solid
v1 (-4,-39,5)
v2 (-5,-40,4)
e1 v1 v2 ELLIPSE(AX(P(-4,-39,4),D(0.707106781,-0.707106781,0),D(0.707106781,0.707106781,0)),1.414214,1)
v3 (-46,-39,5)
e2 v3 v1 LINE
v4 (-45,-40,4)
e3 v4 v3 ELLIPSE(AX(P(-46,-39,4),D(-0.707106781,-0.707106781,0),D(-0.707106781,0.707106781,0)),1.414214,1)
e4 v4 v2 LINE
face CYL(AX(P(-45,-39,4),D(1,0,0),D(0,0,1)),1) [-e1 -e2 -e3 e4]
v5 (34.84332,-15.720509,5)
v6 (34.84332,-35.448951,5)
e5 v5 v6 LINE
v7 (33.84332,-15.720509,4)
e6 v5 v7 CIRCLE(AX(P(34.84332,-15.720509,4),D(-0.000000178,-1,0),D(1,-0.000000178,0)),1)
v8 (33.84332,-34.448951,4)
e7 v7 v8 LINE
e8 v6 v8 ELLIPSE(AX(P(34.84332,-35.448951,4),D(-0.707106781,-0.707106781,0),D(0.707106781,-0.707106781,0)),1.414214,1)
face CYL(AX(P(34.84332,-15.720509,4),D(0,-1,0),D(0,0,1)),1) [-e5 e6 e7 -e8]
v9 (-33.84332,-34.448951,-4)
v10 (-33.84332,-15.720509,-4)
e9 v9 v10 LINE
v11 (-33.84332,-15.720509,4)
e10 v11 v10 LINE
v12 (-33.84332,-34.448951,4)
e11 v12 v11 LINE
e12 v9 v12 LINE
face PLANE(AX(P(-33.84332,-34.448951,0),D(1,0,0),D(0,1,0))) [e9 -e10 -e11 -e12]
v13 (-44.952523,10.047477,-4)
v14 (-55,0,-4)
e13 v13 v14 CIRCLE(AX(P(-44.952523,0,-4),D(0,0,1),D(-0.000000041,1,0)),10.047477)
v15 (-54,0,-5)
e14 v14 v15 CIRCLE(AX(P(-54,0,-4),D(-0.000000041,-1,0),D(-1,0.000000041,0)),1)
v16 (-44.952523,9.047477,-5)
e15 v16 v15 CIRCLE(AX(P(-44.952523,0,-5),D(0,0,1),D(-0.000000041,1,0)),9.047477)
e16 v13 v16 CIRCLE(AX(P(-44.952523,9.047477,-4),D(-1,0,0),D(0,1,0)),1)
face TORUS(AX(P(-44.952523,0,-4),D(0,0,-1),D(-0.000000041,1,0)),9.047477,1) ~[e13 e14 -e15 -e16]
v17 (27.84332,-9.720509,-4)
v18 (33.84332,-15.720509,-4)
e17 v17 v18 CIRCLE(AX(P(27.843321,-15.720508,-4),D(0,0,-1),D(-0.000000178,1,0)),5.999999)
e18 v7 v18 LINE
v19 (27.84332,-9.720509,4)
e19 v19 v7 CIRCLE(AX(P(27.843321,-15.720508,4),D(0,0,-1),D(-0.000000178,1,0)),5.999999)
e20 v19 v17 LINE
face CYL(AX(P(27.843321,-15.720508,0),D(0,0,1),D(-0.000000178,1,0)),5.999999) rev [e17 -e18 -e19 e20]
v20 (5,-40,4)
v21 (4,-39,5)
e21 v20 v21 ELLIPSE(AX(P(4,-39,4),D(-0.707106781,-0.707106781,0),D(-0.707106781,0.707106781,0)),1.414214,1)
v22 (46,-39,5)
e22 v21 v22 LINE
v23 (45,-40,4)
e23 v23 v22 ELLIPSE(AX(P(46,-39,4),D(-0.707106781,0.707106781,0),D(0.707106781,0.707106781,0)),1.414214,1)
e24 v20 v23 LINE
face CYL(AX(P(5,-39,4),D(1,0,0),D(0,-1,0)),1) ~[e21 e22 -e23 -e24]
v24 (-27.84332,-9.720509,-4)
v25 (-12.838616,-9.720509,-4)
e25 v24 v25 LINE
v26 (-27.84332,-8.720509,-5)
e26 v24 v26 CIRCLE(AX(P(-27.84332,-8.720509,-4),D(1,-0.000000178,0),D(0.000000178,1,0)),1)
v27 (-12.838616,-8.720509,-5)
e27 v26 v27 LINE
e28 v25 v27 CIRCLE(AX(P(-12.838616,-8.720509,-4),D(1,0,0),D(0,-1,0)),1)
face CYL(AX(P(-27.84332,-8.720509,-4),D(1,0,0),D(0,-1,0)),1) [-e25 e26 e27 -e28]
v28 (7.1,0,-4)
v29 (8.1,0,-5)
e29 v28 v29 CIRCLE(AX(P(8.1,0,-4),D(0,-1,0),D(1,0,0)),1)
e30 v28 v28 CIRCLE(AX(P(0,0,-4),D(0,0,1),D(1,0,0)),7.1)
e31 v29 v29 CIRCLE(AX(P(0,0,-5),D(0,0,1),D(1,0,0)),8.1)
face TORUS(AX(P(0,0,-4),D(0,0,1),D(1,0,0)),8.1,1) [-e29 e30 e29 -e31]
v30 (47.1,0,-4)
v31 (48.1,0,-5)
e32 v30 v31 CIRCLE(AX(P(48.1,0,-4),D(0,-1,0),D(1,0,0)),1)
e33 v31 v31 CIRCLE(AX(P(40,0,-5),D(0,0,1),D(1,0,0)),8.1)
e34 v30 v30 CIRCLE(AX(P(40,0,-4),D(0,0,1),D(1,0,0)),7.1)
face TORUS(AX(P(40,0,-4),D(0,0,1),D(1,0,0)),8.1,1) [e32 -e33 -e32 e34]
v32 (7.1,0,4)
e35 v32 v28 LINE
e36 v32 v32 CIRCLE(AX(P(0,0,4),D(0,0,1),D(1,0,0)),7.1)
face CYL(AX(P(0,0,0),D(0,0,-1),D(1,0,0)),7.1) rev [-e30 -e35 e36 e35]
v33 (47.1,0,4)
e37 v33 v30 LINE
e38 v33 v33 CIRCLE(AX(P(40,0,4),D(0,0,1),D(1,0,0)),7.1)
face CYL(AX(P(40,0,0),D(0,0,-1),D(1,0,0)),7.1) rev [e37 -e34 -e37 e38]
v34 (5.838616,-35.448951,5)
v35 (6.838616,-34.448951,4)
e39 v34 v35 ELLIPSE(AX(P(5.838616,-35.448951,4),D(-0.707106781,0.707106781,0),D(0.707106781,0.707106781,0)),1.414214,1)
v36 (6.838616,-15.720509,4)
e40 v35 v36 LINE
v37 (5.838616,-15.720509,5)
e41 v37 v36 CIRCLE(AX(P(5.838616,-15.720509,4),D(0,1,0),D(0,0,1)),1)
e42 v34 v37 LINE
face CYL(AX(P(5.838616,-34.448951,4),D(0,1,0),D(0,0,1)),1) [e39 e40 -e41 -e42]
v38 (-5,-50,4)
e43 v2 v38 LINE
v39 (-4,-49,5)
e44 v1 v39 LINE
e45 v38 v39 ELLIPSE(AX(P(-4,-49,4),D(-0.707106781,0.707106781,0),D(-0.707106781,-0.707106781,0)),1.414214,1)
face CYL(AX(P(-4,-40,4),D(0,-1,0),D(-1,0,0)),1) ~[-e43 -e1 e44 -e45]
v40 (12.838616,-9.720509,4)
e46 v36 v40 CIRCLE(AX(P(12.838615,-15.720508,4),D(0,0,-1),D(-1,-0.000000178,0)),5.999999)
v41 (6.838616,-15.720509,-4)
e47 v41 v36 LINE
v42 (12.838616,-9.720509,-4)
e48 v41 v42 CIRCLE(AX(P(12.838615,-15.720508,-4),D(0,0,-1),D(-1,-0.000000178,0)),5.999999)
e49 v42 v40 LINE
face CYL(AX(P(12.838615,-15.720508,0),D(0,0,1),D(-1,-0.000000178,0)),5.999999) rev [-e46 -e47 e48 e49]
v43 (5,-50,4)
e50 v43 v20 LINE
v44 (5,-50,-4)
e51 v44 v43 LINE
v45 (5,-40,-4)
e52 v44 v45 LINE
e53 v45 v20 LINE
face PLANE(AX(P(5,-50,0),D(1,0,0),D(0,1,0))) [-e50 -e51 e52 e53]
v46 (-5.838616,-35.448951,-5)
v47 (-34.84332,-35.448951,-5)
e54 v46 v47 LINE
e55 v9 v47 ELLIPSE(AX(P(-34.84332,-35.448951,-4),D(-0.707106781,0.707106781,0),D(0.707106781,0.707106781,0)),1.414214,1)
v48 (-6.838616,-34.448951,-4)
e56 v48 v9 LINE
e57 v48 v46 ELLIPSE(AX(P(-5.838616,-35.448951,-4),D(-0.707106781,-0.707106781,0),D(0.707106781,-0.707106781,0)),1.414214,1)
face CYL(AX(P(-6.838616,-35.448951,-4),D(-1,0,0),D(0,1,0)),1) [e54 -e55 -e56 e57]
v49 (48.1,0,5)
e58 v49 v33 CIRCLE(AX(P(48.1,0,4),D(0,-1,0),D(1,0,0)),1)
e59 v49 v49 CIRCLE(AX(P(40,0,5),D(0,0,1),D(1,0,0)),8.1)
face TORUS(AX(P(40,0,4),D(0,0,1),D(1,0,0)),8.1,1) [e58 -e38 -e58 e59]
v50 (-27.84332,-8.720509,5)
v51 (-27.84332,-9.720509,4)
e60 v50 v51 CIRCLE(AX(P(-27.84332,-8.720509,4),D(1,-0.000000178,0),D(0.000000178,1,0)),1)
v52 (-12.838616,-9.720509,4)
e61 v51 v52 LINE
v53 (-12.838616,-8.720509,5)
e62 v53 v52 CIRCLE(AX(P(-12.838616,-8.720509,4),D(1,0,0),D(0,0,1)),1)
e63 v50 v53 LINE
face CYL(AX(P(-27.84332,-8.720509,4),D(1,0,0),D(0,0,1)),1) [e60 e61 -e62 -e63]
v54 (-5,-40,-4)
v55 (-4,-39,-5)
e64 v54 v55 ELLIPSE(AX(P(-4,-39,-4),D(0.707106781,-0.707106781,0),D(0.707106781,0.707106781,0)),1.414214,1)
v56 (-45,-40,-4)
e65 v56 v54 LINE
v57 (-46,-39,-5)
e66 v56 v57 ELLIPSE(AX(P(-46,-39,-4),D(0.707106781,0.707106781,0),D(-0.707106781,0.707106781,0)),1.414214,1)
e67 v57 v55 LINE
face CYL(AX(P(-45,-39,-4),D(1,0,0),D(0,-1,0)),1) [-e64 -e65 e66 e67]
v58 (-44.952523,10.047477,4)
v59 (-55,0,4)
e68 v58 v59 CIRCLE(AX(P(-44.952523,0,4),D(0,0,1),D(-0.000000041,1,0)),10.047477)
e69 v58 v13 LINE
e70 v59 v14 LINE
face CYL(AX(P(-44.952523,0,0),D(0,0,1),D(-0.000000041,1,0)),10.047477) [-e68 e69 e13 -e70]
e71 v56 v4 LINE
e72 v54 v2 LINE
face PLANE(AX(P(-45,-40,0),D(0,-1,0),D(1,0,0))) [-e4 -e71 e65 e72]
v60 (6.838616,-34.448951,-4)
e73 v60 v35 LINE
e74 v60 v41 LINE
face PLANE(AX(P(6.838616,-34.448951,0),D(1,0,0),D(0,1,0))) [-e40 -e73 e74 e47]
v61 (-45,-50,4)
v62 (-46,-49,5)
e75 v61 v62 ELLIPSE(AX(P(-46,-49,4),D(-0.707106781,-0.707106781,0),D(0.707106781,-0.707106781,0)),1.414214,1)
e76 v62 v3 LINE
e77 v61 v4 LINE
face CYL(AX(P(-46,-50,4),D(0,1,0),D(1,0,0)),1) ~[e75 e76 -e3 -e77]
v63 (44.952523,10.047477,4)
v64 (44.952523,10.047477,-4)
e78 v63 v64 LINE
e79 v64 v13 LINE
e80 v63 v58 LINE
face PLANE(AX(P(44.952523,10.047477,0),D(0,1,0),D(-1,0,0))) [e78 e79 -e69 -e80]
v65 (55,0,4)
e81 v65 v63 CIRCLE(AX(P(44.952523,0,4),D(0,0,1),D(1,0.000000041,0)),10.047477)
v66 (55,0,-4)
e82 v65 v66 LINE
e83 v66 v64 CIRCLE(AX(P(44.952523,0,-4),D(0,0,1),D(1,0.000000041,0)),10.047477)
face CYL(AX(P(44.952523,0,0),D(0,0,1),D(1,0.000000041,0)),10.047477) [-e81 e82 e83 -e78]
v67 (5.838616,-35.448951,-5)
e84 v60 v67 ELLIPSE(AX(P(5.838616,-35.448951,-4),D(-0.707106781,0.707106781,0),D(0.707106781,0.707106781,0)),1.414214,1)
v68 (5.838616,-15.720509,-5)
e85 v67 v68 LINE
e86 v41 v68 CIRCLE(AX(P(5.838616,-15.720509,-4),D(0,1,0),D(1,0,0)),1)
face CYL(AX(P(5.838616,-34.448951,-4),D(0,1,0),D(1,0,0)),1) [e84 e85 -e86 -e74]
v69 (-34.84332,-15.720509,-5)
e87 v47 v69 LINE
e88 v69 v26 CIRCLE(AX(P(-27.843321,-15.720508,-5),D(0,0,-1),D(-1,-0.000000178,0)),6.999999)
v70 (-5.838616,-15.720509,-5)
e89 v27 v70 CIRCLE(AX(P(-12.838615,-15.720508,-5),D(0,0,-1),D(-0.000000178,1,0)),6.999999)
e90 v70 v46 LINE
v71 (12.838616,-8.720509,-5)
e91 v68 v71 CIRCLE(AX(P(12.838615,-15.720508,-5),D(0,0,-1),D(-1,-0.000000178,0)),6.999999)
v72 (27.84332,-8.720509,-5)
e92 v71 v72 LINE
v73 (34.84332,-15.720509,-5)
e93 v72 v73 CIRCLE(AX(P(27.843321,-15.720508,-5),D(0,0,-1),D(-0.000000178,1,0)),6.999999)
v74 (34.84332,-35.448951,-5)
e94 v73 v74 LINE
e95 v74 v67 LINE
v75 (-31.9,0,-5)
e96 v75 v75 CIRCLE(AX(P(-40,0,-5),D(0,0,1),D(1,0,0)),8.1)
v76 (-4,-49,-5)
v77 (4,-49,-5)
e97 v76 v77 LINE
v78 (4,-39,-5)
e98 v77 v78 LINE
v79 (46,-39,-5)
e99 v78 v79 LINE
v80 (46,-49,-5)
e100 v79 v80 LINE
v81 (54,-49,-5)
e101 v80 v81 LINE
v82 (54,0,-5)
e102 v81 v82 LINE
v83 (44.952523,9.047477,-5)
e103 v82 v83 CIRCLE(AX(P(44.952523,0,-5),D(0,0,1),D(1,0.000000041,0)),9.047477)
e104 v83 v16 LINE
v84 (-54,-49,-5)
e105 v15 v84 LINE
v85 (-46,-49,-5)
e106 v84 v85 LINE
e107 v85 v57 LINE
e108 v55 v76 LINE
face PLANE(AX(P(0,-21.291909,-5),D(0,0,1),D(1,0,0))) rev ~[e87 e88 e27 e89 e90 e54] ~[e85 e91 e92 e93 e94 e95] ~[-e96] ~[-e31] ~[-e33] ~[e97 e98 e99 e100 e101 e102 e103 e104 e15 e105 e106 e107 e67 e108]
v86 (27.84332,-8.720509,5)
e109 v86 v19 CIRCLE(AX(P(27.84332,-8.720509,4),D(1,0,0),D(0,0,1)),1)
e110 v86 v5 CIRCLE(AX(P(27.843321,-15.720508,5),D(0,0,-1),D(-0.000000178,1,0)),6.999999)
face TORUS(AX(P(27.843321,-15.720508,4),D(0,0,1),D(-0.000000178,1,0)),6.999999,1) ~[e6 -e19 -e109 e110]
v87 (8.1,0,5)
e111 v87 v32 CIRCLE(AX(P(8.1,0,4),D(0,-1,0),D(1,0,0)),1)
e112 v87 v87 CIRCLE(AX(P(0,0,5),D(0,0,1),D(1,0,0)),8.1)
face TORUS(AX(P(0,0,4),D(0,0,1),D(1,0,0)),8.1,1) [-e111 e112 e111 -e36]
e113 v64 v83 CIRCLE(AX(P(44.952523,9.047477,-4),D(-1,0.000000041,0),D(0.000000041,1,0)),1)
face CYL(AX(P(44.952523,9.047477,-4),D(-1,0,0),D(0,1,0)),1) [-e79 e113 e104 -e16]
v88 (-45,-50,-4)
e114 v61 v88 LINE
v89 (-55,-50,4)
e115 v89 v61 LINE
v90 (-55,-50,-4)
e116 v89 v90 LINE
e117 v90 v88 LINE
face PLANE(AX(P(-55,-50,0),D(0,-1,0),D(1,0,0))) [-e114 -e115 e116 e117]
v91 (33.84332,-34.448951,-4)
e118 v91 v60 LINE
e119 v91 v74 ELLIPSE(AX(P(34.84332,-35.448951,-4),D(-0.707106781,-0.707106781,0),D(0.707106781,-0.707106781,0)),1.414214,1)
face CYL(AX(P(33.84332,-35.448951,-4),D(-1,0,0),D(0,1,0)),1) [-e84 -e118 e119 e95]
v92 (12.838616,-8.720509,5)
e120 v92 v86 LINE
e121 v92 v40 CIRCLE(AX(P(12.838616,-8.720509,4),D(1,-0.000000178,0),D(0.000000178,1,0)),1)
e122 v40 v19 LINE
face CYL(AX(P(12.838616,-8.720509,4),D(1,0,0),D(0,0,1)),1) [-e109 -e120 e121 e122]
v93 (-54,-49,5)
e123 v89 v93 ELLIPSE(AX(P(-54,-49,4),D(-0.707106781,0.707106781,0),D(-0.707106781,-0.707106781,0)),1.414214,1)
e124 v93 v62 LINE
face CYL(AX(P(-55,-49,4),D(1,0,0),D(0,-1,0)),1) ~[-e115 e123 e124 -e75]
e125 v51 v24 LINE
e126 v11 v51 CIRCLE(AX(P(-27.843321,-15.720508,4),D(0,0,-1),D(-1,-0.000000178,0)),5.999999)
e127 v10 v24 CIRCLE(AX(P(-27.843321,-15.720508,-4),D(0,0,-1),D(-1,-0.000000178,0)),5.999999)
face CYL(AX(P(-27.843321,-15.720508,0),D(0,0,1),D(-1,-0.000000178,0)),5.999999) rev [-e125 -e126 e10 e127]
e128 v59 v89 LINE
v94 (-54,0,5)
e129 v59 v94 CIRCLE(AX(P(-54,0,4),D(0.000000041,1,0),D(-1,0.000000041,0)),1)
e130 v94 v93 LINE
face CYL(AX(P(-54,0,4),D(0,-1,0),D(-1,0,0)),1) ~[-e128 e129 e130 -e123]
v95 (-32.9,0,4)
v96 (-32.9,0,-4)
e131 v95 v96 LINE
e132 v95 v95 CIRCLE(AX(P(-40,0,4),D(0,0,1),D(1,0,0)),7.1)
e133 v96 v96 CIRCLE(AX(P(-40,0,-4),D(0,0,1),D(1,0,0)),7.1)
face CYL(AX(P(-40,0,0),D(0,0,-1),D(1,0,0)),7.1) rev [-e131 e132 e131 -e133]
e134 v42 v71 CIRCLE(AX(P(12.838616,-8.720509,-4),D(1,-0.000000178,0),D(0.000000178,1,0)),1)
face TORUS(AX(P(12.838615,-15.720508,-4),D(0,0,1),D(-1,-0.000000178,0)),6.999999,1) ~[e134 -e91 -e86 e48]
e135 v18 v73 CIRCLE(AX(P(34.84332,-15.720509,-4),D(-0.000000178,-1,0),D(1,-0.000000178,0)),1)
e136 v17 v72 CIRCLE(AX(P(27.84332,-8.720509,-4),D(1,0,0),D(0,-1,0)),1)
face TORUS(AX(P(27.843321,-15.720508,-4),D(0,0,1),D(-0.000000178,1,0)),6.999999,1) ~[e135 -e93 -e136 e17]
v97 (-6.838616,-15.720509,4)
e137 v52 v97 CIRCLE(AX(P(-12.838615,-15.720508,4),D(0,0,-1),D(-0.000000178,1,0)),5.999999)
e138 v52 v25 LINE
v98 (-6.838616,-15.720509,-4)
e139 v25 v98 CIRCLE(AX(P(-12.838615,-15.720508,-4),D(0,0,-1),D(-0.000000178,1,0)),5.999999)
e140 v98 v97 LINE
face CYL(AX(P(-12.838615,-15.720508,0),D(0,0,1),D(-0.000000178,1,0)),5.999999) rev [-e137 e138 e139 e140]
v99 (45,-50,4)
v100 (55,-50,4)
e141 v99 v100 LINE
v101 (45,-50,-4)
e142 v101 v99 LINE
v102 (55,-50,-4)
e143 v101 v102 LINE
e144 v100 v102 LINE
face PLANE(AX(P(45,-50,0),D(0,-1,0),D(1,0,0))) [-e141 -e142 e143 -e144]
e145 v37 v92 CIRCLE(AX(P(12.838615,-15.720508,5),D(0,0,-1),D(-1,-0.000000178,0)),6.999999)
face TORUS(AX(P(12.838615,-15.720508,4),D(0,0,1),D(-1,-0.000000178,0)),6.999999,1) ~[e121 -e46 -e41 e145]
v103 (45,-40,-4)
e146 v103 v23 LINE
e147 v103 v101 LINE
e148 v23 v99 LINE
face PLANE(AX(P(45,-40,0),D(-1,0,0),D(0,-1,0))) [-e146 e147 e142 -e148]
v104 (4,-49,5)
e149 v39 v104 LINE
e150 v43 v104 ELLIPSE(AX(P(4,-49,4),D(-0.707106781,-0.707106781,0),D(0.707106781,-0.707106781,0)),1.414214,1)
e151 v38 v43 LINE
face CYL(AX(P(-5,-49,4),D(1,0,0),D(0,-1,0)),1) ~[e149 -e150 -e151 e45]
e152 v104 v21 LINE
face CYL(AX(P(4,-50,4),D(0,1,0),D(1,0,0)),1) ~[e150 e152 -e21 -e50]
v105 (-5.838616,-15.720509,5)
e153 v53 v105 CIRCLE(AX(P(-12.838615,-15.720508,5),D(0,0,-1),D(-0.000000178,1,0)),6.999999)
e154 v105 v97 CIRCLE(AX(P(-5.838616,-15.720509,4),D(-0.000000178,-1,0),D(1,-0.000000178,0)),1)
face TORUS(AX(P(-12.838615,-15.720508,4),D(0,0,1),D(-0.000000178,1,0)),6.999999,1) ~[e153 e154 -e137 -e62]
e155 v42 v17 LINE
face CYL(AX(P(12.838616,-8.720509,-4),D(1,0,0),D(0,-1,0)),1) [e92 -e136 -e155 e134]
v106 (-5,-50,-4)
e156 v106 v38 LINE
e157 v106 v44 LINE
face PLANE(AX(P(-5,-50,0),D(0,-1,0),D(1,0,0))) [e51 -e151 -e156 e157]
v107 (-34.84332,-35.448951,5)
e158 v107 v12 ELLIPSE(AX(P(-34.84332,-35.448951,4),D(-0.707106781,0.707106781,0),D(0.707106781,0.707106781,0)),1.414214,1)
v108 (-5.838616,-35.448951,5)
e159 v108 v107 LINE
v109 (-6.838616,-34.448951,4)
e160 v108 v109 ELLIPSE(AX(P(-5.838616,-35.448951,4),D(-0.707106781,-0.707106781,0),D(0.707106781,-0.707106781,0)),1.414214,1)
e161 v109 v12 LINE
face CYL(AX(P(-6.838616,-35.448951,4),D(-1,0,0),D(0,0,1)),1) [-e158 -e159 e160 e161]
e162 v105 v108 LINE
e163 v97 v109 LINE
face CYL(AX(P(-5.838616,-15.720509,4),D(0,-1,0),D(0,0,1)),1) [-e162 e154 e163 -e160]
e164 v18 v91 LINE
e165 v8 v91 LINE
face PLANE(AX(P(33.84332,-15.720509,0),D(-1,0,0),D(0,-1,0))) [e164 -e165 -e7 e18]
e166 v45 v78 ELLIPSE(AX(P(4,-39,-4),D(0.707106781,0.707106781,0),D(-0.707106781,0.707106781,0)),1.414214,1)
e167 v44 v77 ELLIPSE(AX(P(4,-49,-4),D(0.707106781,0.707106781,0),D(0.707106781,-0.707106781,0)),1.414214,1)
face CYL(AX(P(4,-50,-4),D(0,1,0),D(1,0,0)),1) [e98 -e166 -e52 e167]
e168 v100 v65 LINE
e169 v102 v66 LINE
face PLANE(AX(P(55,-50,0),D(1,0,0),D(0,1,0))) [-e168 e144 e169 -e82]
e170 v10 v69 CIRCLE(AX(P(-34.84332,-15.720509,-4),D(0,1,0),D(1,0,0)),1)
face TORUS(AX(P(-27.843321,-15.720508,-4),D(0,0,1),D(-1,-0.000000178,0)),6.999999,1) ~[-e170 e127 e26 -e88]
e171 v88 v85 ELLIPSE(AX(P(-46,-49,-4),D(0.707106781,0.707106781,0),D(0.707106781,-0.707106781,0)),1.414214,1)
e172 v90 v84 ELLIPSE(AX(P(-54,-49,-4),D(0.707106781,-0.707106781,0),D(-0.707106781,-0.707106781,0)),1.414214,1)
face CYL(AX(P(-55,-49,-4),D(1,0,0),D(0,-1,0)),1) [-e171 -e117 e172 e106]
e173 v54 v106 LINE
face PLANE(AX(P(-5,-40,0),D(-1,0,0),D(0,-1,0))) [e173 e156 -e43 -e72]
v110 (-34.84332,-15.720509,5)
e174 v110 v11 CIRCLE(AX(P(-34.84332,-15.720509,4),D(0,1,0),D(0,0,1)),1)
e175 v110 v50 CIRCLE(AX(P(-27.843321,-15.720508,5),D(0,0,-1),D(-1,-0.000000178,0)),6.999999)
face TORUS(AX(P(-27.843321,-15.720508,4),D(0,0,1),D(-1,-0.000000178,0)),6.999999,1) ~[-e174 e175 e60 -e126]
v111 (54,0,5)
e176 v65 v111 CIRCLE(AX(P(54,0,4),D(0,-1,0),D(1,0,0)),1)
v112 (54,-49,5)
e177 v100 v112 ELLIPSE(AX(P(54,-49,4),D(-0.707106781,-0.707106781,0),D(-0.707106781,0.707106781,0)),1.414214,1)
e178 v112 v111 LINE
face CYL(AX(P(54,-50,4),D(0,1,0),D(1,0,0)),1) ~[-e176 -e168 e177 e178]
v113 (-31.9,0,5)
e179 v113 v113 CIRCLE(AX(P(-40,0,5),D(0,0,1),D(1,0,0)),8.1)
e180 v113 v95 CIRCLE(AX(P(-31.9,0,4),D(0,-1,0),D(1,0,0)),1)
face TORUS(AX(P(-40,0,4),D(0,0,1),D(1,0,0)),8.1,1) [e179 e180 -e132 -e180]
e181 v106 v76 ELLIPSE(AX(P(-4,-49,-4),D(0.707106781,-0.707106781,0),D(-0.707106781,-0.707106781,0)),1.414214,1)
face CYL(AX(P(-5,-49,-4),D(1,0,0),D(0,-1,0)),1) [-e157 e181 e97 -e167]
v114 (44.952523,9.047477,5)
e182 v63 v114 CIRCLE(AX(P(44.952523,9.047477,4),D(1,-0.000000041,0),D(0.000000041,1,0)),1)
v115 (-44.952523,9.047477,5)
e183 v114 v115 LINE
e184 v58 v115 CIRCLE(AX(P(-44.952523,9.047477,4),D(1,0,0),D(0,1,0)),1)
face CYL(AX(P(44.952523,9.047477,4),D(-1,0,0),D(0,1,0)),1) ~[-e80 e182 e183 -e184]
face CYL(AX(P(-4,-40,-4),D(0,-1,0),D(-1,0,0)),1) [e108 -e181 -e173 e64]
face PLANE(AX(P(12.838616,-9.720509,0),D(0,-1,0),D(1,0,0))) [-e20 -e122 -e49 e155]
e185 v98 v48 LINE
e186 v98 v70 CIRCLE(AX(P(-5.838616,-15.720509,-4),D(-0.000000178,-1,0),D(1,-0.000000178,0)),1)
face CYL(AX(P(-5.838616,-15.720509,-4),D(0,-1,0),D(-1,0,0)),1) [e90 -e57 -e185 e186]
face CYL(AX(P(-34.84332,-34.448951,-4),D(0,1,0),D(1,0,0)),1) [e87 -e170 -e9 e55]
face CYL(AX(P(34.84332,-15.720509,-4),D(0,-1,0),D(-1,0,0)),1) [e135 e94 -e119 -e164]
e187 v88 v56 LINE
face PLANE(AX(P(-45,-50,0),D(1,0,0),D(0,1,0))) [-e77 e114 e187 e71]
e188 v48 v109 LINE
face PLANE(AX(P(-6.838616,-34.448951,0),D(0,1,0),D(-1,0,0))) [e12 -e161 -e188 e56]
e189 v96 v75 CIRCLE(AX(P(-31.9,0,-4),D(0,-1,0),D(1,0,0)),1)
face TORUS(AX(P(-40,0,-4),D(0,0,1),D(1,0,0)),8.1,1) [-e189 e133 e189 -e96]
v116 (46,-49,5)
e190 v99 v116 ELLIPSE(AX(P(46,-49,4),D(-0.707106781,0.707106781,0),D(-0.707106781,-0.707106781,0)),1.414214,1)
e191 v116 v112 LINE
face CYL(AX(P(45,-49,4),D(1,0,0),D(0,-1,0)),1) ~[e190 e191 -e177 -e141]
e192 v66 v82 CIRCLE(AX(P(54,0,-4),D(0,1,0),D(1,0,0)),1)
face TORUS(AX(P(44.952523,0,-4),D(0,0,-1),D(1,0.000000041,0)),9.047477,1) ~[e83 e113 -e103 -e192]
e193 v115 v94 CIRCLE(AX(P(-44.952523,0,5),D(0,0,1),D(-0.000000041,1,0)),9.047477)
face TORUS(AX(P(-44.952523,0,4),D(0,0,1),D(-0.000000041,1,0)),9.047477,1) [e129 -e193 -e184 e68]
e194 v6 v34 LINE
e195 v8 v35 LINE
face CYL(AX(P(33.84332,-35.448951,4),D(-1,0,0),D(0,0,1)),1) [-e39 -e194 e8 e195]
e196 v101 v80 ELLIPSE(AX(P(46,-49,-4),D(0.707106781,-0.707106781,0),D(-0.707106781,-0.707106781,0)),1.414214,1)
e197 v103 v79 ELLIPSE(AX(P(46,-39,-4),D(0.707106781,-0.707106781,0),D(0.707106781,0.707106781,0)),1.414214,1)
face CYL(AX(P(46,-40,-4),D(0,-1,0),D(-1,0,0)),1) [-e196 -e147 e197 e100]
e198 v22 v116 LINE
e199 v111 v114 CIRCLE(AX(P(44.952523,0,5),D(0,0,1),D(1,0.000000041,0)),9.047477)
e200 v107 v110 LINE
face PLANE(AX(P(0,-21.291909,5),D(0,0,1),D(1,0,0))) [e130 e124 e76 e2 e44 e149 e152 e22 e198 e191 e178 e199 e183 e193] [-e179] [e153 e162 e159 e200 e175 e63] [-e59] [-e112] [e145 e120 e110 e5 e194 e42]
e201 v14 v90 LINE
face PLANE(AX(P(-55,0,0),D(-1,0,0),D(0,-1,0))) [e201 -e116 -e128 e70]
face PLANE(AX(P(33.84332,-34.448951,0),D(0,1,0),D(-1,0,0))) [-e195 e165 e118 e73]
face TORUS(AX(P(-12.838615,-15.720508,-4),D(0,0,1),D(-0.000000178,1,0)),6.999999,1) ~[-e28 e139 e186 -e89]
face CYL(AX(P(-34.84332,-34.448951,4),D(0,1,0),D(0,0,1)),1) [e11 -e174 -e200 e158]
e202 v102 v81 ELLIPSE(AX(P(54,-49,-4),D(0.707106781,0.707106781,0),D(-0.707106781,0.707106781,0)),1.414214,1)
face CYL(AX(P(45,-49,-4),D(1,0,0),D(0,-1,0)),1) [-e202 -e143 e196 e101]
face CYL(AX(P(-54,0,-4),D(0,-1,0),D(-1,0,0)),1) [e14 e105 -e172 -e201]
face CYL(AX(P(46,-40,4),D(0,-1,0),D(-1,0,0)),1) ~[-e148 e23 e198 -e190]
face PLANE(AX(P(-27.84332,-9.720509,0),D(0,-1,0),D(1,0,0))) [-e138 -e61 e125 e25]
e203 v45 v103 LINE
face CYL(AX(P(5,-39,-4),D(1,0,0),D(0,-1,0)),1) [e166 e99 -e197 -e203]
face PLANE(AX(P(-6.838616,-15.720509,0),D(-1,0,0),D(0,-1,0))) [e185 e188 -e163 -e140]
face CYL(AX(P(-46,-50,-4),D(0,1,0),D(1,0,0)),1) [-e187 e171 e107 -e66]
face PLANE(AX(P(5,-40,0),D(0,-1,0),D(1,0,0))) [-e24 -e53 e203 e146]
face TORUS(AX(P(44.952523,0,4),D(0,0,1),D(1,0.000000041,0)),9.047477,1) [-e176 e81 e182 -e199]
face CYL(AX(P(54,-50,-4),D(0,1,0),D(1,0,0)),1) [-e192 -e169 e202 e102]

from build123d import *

# Parameters (mm, degrees)
F0_R     = 7.1
F1_DEPTH = 5
F2_R     = 1


with BuildPart() as f1:
    # F0 (on Top) → F1 (new body, symmetric)
    with BuildSketch(Plane.XY):
        with BuildLine():
            Line((-45, -50), (-45, -40))
            Line((-45, -40), (-5, -40))
            Line((-5, -40), (-5, -50))
            Line((-5, -50), (0, -50))
            Line((0, -50), (5, -50))
            Line((5, -50), (5, -40))
            Line((5, -40), (45, -40))
            Line((45, -40), (45, -50))
            Line((45, -50), (55, -50))
            Line((55, -50), (55, -40))
            Line((55, -40), (55, 0))
            ThreePointArc((55, 0), (52.057162, 7.104639), (44.952523, 10.047477))
            Line((44.952523, 10.047477), (-44.952523, 10.047477))
            ThreePointArc((-44.952523, 10.047477), (-52.057162, 7.104639), (-55, 0))
            Line((-55, 0), (-55, -40))
            Line((-55, -40), (-55, -50))
            Line((-55, -50), (-45, -50))
        make_face()
        with BuildLine():
            Line((-6.838616, -15.720509), (-6.838616, -34.448951))
            Line((-6.838616, -34.448951), (-33.84332, -34.448951))
            Line((-33.84332, -34.448951), (-33.84332, -15.720509))
            ThreePointArc((-33.84332, -15.720509), (-32.085961, -11.477868), (-27.84332, -9.720509))
            Line((-27.84332, -9.720509), (-12.838616, -9.720509))
            ThreePointArc((-12.838616, -9.720509), (-8.595975, -11.477868), (-6.838616, -15.720509))
        make_face(mode=Mode.SUBTRACT)
        with BuildLine():
            Line((6.838616, -34.448951), (6.838616, -15.720509))
            ThreePointArc((6.838616, -15.720509), (8.595975, -11.477868), (12.838616, -9.720509))
            Line((12.838616, -9.720509), (27.84332, -9.720509))
            ThreePointArc((27.84332, -9.720509), (32.085961, -11.477868), (33.84332, -15.720509))
            Line((33.84332, -15.720509), (33.84332, -34.448951))
            Line((33.84332, -34.448951), (6.838616, -34.448951))
        make_face(mode=Mode.SUBTRACT)
        with Locations((-40, 0)):
            Circle(F0_R, mode=Mode.SUBTRACT)
        Circle(F0_R, mode=Mode.SUBTRACT)
        with Locations((40, 0)):
            Circle(F0_R, mode=Mode.SUBTRACT)
    extrude(amount=F1_DEPTH, both=True)

    # F2
    f2_edges = [f1.edges().sort_by_distance(p)[0] for p in [
        (0, 10.047477, 5),
        (-52.057162, 7.104639, 5),
        (-55, -25, 5),
        (-50, -50, 5),
        (-45, -45, 5),
        (-25, -40, 5),
        (-5, -45, 5),
        (0, -50, 5),
        (5, -45, 5),
        (25, -40, 5),
        (45, -45, 5),
        (50, -50, 5),
        (55, -25, 5),
        (52.057162, 7.104639, 5),
        (-8.595975, -11.477868, 5),
        (-6.838616, -25.08473, 5),
        (-20.340968, -34.448951, 5),
        (-33.84332, -25.08473, 5),
        (-32.085961, -11.477868, 5),
        (-20.340968, -9.720509, 5),
        (6.838616, -25.08473, 5),
        (8.595975, -11.477868, 5),
        (20.340968, -9.720509, 5),
        (32.085961, -11.477868, 5),
        (33.84332, -25.08473, 5),
        (20.340968, -34.448951, 5),
        (-47.1, 0, 5),
        (-7.1, 0, 5),
        (32.9, 0, 5),
        (0, 10.047477, -5),
        (-52.057162, 7.104639, -5),
        (-55, -25, -5),
        (-50, -50, -5),
        (-45, -45, -5),
        (-25, -40, -5),
        (-5, -45, -5),
        (0, -50, -5),
        (5, -45, -5),
        (25, -40, -5),
        (45, -45, -5),
        (50, -50, -5),
        (55, -25, -5),
        (52.057162, 7.104639, -5),
        (-8.595975, -11.477868, -5),
        (-6.838616, -25.08473, -5),
        (-20.340968, -34.448951, -5),
        (-33.84332, -25.08473, -5),
        (-32.085961, -11.477868, -5),
        (-20.340968, -9.720509, -5),
        (6.838616, -25.08473, -5),
        (8.595975, -11.477868, -5),
        (20.340968, -9.720509, -5),
        (32.085961, -11.477868, -5),
        (33.84332, -25.08473, -5),
        (20.340968, -34.448951, -5),
        (-47.1, 0, -5),
        (-7.1, 0, -5),
        (32.9, 0, -5),
    ]]
    fillet(f2_edges, radius=F2_R)


solid = f1.part
